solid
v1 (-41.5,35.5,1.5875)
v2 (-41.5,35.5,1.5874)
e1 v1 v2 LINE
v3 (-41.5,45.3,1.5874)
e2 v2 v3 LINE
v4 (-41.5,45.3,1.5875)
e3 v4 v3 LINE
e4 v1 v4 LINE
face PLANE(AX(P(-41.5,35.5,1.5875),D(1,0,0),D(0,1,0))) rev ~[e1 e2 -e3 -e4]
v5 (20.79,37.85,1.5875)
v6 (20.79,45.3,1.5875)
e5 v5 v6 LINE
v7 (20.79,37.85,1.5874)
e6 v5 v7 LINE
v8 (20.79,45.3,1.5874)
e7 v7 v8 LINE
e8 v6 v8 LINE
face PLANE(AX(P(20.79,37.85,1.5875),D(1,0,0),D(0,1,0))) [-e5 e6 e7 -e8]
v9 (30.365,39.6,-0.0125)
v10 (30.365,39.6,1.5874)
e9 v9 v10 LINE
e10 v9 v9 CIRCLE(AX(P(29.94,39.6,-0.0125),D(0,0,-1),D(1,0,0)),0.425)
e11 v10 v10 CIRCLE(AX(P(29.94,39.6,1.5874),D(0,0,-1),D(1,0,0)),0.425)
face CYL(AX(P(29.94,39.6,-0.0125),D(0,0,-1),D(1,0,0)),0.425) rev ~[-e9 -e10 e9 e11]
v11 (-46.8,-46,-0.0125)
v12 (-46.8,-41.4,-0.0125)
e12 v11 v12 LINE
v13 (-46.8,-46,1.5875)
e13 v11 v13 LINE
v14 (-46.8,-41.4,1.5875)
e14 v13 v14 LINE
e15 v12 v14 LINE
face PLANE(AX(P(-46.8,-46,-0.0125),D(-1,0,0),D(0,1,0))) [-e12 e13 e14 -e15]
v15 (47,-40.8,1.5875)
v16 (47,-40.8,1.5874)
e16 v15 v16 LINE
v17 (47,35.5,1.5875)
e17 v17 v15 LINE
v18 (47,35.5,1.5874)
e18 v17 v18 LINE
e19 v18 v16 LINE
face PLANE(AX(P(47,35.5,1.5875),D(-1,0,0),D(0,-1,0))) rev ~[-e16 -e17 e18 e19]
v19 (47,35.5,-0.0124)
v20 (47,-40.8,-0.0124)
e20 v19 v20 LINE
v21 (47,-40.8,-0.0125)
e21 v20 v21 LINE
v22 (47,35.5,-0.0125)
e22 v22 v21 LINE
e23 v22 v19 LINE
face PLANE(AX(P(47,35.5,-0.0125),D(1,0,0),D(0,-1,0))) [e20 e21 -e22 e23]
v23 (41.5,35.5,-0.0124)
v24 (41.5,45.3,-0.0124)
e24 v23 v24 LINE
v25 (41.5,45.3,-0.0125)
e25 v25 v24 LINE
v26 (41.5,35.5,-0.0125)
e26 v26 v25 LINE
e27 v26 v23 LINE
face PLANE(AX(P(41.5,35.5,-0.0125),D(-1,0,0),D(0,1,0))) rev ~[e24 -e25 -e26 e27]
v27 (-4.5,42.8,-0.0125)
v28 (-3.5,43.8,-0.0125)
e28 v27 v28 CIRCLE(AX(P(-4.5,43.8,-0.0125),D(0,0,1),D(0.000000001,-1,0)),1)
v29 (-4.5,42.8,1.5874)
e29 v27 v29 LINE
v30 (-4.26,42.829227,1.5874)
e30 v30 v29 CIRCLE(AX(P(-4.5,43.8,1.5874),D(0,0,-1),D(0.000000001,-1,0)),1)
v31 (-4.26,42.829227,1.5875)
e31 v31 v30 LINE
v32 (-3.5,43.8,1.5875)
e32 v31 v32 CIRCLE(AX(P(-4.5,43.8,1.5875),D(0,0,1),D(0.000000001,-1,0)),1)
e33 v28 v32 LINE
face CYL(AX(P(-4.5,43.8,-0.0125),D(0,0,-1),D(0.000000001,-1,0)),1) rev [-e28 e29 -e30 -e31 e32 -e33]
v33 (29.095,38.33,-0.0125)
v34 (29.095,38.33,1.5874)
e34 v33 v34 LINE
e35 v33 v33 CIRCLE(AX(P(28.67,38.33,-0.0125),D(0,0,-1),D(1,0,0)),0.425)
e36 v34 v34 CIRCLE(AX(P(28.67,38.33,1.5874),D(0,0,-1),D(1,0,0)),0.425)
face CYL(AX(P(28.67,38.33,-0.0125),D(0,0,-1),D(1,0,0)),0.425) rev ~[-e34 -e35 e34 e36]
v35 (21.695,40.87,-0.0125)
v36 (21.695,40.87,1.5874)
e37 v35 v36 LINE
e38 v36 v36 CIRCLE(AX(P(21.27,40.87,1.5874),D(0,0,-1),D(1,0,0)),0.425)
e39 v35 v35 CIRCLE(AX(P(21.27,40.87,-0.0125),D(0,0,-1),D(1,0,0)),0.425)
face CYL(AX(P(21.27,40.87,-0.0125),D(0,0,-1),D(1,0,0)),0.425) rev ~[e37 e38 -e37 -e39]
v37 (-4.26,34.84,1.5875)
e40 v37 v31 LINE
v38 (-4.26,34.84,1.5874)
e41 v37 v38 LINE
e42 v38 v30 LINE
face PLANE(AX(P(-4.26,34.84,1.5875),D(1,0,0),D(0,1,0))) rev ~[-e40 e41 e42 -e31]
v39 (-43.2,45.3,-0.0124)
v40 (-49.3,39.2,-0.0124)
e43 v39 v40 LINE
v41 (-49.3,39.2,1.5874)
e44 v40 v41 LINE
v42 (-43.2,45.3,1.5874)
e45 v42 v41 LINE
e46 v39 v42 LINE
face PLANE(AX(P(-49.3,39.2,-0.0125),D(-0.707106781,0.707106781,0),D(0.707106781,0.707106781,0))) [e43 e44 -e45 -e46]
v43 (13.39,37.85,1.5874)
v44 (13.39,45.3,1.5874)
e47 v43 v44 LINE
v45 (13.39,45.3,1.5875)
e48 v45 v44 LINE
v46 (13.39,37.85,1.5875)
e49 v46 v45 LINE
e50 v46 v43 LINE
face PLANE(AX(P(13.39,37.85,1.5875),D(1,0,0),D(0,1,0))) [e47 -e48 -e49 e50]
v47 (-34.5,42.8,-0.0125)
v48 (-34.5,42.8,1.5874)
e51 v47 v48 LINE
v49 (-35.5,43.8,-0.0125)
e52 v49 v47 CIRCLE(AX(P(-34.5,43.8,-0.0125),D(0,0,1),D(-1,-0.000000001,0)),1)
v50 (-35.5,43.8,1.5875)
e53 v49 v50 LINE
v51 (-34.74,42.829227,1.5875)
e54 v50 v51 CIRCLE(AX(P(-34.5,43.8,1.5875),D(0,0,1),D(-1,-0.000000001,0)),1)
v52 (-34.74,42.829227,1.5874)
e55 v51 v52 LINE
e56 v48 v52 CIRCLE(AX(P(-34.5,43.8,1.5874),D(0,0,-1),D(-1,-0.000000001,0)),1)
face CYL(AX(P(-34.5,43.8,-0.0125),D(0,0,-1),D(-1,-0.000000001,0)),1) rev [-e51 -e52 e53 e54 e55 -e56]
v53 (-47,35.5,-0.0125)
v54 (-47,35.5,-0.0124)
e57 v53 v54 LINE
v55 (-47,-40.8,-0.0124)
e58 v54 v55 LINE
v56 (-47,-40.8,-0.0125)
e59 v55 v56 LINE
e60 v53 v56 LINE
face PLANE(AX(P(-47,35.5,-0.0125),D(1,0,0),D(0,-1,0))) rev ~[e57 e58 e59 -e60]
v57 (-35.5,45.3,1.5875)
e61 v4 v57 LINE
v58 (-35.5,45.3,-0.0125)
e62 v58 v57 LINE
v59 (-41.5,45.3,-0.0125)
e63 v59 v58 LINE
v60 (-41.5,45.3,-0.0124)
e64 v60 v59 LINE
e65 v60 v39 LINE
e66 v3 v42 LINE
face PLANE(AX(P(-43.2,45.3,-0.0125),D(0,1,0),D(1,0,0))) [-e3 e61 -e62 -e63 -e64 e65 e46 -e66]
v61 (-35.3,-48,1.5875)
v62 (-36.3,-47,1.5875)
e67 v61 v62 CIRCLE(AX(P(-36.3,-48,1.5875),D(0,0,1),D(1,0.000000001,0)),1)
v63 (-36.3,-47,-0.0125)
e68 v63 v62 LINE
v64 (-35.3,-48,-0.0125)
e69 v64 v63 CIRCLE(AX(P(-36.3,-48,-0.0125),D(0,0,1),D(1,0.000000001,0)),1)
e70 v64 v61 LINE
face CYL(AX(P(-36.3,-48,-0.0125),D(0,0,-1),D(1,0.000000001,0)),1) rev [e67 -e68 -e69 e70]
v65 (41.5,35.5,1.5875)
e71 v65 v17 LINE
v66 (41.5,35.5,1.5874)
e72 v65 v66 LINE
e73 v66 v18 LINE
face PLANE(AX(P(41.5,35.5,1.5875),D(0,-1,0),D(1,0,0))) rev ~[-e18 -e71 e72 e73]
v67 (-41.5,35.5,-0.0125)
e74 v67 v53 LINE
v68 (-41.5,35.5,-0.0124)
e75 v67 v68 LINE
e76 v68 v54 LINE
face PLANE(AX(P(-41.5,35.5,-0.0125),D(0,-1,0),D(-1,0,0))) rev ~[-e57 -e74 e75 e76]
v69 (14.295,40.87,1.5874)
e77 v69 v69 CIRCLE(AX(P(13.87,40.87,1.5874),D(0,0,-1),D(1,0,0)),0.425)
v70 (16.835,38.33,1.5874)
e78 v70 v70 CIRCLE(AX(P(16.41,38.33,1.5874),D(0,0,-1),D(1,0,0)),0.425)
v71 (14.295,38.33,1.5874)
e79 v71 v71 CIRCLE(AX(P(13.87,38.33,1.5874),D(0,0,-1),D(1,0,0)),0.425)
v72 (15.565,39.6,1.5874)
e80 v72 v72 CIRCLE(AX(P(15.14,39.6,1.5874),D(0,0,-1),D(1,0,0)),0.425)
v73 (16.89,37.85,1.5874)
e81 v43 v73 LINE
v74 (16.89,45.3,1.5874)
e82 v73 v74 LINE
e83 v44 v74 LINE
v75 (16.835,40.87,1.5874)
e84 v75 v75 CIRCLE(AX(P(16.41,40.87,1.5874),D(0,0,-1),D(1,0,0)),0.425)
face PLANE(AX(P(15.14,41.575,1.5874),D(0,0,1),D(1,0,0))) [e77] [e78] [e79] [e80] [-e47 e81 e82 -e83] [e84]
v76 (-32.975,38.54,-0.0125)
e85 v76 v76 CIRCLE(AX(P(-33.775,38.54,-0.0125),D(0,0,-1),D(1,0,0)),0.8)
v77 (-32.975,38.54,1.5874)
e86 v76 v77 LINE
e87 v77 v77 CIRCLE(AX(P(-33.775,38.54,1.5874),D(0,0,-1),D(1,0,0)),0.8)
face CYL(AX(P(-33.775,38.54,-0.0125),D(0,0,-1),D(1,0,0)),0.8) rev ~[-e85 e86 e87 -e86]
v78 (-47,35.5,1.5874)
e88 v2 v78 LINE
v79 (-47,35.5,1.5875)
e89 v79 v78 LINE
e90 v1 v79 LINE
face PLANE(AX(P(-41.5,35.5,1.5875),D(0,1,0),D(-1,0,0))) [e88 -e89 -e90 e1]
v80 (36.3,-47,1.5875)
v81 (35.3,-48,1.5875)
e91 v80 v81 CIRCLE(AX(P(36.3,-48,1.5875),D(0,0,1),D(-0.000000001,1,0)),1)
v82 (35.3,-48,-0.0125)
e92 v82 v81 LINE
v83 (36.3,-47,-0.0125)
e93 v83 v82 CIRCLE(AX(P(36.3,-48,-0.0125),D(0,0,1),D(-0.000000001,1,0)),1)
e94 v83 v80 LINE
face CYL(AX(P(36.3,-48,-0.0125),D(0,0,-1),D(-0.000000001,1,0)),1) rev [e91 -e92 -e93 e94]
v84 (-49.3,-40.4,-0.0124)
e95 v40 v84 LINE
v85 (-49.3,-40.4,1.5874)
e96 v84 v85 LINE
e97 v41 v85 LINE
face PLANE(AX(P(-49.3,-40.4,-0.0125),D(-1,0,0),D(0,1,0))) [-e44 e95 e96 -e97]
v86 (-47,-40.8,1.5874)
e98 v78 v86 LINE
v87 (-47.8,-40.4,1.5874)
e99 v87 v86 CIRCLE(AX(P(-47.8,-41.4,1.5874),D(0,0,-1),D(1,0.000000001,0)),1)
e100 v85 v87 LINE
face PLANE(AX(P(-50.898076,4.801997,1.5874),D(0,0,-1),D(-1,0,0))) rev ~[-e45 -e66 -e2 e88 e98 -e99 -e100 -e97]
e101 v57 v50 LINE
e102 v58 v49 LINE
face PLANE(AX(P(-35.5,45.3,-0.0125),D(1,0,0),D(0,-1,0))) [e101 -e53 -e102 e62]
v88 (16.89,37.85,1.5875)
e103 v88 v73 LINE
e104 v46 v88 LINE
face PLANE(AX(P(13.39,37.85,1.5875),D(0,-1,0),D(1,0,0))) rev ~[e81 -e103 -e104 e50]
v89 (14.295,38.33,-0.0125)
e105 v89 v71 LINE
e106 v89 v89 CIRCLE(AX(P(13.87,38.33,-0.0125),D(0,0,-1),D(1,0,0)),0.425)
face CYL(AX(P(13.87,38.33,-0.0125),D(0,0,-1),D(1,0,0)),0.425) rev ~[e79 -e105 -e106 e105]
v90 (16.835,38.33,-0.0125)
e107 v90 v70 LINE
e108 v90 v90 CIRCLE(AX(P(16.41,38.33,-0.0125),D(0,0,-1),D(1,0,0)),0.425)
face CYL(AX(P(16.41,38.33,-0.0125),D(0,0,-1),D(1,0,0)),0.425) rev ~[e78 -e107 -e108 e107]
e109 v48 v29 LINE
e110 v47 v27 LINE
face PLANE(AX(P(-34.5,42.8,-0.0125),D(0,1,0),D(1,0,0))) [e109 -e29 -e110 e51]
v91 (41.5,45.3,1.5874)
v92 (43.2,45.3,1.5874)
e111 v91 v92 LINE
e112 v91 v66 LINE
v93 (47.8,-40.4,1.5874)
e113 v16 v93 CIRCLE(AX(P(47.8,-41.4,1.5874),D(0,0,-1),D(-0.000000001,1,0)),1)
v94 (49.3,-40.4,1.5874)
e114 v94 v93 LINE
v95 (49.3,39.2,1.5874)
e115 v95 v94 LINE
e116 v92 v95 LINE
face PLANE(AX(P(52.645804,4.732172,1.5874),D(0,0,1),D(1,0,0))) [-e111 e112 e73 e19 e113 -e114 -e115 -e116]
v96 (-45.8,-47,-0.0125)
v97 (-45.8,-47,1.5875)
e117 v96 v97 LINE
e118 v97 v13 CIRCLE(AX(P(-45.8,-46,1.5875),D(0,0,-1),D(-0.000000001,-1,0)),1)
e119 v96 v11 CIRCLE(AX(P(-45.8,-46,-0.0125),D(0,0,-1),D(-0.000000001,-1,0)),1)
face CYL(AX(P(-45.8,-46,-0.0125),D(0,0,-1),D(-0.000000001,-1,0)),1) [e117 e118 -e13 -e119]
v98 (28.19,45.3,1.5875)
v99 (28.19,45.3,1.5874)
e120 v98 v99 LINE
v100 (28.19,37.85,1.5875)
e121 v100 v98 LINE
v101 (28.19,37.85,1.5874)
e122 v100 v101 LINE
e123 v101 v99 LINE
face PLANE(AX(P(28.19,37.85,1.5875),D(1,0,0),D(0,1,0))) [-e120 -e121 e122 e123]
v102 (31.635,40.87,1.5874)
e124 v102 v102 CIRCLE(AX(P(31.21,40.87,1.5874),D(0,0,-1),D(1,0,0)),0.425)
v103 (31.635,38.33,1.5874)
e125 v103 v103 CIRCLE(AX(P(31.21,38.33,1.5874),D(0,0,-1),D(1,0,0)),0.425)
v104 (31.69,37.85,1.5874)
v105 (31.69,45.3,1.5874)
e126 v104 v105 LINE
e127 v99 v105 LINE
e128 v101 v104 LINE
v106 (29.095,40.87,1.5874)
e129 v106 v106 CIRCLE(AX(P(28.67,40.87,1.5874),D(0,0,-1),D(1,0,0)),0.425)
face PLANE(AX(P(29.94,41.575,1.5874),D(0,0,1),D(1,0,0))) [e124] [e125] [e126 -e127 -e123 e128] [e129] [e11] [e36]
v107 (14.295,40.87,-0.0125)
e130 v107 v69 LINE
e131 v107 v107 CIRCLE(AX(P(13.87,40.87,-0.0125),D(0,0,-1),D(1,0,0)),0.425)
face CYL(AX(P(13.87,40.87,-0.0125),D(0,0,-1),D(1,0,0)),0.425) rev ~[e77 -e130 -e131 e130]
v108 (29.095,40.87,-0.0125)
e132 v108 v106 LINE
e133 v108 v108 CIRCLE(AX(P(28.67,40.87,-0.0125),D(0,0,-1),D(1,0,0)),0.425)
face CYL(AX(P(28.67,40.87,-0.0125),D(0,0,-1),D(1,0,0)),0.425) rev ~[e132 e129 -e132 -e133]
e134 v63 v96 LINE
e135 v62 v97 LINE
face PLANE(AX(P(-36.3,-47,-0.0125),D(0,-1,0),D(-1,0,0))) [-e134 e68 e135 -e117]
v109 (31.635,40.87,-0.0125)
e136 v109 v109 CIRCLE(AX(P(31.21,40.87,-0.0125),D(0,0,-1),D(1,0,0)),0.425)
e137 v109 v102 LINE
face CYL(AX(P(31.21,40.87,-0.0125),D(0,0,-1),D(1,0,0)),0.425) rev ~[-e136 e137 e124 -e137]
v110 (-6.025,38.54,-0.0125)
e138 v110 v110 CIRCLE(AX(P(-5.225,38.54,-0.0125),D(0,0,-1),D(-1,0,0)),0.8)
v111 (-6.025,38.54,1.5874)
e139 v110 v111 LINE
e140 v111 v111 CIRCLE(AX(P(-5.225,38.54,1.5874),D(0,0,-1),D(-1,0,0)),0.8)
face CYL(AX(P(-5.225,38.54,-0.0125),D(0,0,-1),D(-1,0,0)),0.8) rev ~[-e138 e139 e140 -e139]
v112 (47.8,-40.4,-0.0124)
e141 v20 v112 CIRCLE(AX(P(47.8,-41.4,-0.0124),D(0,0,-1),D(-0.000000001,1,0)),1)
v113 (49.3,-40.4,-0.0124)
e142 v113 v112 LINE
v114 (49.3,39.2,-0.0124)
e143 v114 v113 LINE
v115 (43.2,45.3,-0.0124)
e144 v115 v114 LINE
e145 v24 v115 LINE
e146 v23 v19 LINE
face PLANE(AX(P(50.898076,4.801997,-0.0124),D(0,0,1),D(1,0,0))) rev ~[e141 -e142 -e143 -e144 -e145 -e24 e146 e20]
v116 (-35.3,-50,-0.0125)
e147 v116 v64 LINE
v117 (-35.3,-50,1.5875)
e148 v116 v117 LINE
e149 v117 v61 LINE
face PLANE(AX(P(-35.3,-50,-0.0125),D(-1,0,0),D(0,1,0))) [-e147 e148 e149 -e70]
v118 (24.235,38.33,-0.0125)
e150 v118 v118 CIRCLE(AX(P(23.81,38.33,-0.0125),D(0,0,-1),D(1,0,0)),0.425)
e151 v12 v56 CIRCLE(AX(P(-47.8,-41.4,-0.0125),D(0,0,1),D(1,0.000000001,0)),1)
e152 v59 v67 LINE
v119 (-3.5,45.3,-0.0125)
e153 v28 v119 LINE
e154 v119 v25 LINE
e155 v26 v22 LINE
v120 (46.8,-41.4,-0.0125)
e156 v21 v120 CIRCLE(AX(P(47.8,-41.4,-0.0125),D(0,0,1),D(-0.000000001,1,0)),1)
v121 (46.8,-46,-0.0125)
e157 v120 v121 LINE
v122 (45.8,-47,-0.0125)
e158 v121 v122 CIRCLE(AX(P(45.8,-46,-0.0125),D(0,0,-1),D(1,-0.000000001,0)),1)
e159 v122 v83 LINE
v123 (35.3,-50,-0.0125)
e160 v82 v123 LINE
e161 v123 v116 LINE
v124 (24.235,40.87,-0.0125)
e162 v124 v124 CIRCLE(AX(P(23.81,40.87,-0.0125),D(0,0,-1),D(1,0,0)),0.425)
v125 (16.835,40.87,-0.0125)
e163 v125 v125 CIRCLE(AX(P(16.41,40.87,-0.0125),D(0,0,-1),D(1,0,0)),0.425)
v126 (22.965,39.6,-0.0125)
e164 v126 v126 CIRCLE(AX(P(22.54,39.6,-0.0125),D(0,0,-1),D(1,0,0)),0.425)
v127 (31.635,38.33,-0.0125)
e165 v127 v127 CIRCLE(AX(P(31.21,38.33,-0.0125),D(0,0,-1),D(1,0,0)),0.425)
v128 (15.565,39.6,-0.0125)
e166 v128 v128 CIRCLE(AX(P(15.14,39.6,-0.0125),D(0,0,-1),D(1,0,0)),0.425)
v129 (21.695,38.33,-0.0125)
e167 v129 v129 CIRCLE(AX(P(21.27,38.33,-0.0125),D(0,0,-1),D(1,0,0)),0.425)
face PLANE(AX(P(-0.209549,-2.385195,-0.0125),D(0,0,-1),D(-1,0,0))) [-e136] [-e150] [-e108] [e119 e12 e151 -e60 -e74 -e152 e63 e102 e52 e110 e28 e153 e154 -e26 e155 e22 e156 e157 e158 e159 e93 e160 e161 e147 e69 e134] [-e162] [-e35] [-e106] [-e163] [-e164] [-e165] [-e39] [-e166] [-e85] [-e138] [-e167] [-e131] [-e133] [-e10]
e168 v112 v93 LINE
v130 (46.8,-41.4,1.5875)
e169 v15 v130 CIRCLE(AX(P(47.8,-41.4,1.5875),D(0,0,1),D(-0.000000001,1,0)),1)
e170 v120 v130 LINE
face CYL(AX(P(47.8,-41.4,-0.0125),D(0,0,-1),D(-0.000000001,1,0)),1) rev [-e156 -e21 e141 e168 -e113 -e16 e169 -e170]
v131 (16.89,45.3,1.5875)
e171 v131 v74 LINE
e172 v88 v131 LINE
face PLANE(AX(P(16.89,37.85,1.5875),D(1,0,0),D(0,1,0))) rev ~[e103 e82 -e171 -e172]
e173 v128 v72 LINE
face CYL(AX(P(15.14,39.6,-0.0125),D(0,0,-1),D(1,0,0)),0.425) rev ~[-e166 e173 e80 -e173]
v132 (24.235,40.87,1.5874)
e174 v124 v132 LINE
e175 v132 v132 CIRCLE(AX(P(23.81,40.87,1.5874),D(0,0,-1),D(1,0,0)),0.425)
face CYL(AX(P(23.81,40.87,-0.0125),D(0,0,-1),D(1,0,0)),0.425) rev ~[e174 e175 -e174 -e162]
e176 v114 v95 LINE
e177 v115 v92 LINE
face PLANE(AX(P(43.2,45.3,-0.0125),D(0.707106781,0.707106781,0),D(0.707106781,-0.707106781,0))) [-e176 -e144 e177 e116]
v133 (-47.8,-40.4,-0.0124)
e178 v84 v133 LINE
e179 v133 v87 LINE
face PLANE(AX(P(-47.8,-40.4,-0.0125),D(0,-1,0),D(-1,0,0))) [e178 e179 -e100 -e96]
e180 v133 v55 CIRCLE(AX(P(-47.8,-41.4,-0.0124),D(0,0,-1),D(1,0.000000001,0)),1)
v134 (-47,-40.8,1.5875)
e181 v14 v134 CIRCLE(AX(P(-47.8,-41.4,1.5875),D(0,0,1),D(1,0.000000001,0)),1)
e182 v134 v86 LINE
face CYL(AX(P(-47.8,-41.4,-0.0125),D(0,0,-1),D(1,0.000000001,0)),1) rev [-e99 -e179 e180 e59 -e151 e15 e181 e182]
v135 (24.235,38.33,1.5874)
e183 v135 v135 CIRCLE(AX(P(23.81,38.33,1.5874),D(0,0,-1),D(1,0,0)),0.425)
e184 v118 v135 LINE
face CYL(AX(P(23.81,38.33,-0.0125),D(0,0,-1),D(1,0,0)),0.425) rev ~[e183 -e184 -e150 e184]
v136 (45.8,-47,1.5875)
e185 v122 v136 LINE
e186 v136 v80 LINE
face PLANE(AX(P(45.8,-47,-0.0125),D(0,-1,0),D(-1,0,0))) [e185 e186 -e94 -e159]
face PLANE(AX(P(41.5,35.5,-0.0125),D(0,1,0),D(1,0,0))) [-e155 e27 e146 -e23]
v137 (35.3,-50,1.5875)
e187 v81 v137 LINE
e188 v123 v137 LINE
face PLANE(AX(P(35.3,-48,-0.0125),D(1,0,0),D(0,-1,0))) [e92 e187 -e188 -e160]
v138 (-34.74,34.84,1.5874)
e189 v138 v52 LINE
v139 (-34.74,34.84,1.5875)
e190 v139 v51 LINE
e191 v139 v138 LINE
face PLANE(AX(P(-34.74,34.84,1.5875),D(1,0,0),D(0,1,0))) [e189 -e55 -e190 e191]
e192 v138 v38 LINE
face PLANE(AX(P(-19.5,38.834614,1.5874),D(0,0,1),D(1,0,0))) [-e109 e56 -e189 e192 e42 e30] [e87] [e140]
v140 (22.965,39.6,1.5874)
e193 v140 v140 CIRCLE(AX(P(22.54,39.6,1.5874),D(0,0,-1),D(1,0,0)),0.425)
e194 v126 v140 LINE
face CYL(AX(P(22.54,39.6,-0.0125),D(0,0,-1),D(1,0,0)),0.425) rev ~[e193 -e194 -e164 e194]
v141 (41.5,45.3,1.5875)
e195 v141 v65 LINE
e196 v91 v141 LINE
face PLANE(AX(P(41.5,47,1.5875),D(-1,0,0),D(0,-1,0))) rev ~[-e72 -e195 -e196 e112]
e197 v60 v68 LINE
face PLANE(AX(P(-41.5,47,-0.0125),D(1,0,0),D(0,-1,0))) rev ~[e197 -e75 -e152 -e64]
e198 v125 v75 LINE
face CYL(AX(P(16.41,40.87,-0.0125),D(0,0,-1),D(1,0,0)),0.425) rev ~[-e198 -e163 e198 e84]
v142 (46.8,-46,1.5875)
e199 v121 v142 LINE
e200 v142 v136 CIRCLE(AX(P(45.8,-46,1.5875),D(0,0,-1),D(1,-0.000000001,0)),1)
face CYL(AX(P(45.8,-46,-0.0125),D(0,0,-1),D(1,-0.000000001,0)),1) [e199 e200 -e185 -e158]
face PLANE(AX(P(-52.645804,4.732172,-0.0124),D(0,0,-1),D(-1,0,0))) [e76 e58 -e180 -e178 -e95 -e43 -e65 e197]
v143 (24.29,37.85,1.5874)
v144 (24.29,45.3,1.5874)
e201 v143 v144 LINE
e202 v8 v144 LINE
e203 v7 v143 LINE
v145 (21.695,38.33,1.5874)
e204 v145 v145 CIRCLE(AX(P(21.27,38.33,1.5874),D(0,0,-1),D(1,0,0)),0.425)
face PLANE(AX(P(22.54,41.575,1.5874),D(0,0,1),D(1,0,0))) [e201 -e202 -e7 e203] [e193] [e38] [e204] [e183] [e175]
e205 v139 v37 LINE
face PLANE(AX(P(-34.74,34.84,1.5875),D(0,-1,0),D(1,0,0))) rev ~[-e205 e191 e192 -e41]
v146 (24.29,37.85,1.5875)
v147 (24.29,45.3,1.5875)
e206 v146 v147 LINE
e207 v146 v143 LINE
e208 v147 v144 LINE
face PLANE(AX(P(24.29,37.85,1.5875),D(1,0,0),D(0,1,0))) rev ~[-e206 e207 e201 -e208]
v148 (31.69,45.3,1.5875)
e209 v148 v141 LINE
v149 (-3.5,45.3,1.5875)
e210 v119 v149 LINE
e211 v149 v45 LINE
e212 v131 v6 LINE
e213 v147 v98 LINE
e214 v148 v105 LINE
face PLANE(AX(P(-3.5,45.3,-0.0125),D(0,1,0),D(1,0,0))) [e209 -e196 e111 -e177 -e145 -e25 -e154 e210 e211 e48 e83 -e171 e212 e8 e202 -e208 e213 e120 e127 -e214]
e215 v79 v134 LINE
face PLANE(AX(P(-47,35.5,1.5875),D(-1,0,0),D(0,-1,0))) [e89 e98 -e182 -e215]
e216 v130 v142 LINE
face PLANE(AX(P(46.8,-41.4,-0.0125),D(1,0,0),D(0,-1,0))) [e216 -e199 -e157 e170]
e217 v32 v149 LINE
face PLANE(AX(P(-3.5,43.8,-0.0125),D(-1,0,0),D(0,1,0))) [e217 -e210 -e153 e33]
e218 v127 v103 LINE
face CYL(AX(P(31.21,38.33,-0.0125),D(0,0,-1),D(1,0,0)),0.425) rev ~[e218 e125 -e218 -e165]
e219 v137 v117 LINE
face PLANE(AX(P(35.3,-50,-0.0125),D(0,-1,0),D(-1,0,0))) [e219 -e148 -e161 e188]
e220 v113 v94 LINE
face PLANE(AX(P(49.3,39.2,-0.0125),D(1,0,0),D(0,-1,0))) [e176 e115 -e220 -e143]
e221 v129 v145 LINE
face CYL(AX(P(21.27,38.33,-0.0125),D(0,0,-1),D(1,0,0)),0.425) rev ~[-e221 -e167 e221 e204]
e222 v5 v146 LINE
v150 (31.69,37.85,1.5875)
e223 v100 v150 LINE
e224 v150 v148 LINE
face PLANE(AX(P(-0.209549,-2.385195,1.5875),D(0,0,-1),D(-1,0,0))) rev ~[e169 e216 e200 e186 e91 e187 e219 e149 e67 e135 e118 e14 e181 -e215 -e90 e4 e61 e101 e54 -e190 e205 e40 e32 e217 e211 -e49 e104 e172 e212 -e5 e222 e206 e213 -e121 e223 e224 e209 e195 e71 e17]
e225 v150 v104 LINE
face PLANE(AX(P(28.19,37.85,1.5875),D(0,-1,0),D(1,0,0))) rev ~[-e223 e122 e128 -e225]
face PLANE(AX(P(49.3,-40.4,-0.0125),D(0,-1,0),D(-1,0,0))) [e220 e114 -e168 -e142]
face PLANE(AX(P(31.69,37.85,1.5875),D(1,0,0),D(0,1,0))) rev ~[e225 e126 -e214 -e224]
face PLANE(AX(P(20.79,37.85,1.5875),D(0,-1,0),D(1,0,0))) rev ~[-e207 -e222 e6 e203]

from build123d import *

# Parameters (mm, degrees)
SKETCH1_R           = 0.425
SKETCH1_R_2         = 0.8
BOSS_EXTRUDE1_DEPTH = 1.6
CUT_EXTRUDE1_DEPTH  = 0.0001
CUT_EXTRUDE2_DEPTH  = 0.0001
PARTFOOTPRINTS_W    = 30.48
PARTFOOTPRINTS_H    = 7.989227112
PARTFOOTPRINTS_W_2  = 3.5
PARTFOOTPRINTS_H_2  = 7.45
CUT_EXTRUDE3_DEPTH  = 0.0001


with BuildPart() as part:
    # Sketch1 → Boss-Extrude1 (new body)
    with BuildSketch(Plane(origin=(0, 0, -0.0125), x_dir=(-1, 0, 0), z_dir=(0, 0, -1))):
        with BuildLine():
            Line((35.3, -50), (35.3, -48))
            ThreePointArc((35.3, -48), (35.592893219, -47.292893219), (36.3, -47))
            Line((36.3, -47), (45.8, -47))
            ThreePointArc((45.8, -47), (46.507106781, -46.707106781), (46.8, -46))
            Line((46.8, -46), (46.8, -41.4))
            ThreePointArc((46.8, -41.4), (47.092893219, -40.692893219), (47.8, -40.4))
            Line((47.8, -40.4), (49.3, -40.4))
            Line((49.3, -40.4), (49.3, 39.2))
            Line((49.3, 39.2), (43.2, 45.3))
            Line((43.2, 45.3), (35.500000002, 45.3))
            Line((35.500000002, 45.3), (35.500000002, 43.8))
            ThreePointArc((35.500000002, 43.8), (35.207106783, 43.092893219), (34.500000002, 42.8))
            Line((34.500000002, 42.8), (4.499999998, 42.8))
            ThreePointArc((4.499999998, 42.8), (3.792893217, 43.092893219), (3.499999998, 43.8))
            Line((3.499999998, 43.8), (3.499999998, 45.3))
            Line((3.499999998, 45.3), (-43.2, 45.3))
            Line((-43.2, 45.3), (-49.3, 39.2))
            Line((-49.3, 39.2), (-49.3, -40.4))
            Line((-49.3, -40.4), (-47.8, -40.4))
            ThreePointArc((-47.8, -40.4), (-47.092893219, -40.692893219), (-46.8, -41.4))
            Line((-46.8, -41.4), (-46.8, -46))
            ThreePointArc((-46.8, -46), (-46.507106781, -46.707106781), (-45.8, -47))
            Line((-45.8, -47), (-36.3, -47))
            ThreePointArc((-36.3, -47), (-35.592893219, -47.292893219), (-35.3, -48))
            Line((-35.3, -48), (-35.3, -50))
            Line((-35.3, -50), (35.3, -50))
        make_face()
        with Locations(Location((-21.27, 40.87, 0), (0, 0, 180))):
            Circle(SKETCH1_R, mode=Mode.SUBTRACT)
        with Locations(Location((-23.81, 40.87, 0), (0, 0, 180))):
            Circle(SKETCH1_R, mode=Mode.SUBTRACT)
        with Locations(Location((-22.54, 39.6, 0), (0, 0, 180))):
            Circle(SKETCH1_R, mode=Mode.SUBTRACT)
        with Locations(Location((-13.87, 40.87, 0), (0, 0, 180))):
            Circle(SKETCH1_R, mode=Mode.SUBTRACT)
        with Locations(Location((-23.81, 38.33, 0), (0, 0, 180))):
            Circle(SKETCH1_R, mode=Mode.SUBTRACT)
        with Locations(Location((-16.41, 40.87, 0), (0, 0, 180))):
            Circle(SKETCH1_R, mode=Mode.SUBTRACT)
        with Locations(Location((-15.14, 39.6, 0), (0, 0, 180))):
            Circle(SKETCH1_R, mode=Mode.SUBTRACT)
        with Locations(Location((-21.27, 38.33, 0), (0, 0, 180))):
            Circle(SKETCH1_R, mode=Mode.SUBTRACT)
        with Locations(Location((-28.67, 40.87, 0), (0, 0, 180))):
            Circle(SKETCH1_R, mode=Mode.SUBTRACT)
        with Locations(Location((-31.21, 40.87, 0), (0, 0, 180))):
            Circle(SKETCH1_R, mode=Mode.SUBTRACT)
        with Locations(Location((-16.41, 38.33, 0), (0, 0, 180))):
            Circle(SKETCH1_R, mode=Mode.SUBTRACT)
        with Locations(Location((-29.94, 39.6, 0), (0, 0, 180))):
            Circle(SKETCH1_R, mode=Mode.SUBTRACT)
        with Locations(Location((-31.21, 38.33, 0), (0, 0, 180))):
            Circle(SKETCH1_R, mode=Mode.SUBTRACT)
        with Locations(Location((-28.67, 38.33, 0), (0, 0, 180))):
            Circle(SKETCH1_R, mode=Mode.SUBTRACT)
        with Locations(Location((33.775, 38.54, 0), (0, 0, 180))):
            Circle(SKETCH1_R_2, mode=Mode.SUBTRACT)
        with Locations((5.225, 38.54)):
            Circle(SKETCH1_R_2, mode=Mode.SUBTRACT)
        with Locations(Location((-13.87, 38.33, 0), (0, 0, 180))):
            Circle(SKETCH1_R, mode=Mode.SUBTRACT)
    extrude(amount=-BOSS_EXTRUDE1_DEPTH)

    # thermalContacts_lower → Cut-Extrude1 (cut)
    with BuildSketch(Plane(origin=(0, 0, -0.0125), x_dir=(-1, 0, 0), z_dir=(0, 0, -1))):
        Polygon((47, 35.5), (47, -41.5), (59.827263463, -41.5), (59.827263463, 47), (41.5, 47), (41.5, 41.5), (41.5, 35.5), align=None)
        Polygon((-47, 35.5), (-47, -41.5), (-56.192158269, -41.5), (-56.192158269, 47), (-41.5, 47), (-41.5, 41.5), (-41.5, 35.5), align=None)
    extrude(amount=-CUT_EXTRUDE1_DEPTH, mode=Mode.SUBTRACT)

    # thermalContacts_upper → Cut-Extrude2 (cut)
    with BuildSketch(Plane.XY.offset(1.5875)):
        Polygon((-47, 35.5), (-47, -41.5), (-56.192158269, -41.5), (-56.192158269, 47), (-41.5, 47), (-41.5, 41.5), (-41.5, 35.5), align=None)
        Polygon((47, 35.5), (47, -41.5), (59.827263463, -41.5), (59.827263463, 47), (41.5, 47), (41.5, 41.5), (41.5, 35.5), align=None)
    extrude(amount=-CUT_EXTRUDE2_DEPTH, mode=Mode.SUBTRACT)

    # partFootprints → Cut-Extrude3 (cut)
    with BuildSketch(Plane.XY.offset(1.5875)):
        with Locations((-19.5, 38.834613556)):
            Rectangle(PARTFOOTPRINTS_W, PARTFOOTPRINTS_H)
        with Locations((15.14, 41.575)):
            Rectangle(PARTFOOTPRINTS_W_2, PARTFOOTPRINTS_H_2)
        with Locations((22.54, 41.575)):
            Rectangle(PARTFOOTPRINTS_W_2, PARTFOOTPRINTS_H_2)
        with Locations((29.94, 41.575)):
            Rectangle(PARTFOOTPRINTS_W_2, PARTFOOTPRINTS_H_2)
    extrude(amount=-CUT_EXTRUDE3_DEPTH, mode=Mode.SUBTRACT)


solid = part.part
